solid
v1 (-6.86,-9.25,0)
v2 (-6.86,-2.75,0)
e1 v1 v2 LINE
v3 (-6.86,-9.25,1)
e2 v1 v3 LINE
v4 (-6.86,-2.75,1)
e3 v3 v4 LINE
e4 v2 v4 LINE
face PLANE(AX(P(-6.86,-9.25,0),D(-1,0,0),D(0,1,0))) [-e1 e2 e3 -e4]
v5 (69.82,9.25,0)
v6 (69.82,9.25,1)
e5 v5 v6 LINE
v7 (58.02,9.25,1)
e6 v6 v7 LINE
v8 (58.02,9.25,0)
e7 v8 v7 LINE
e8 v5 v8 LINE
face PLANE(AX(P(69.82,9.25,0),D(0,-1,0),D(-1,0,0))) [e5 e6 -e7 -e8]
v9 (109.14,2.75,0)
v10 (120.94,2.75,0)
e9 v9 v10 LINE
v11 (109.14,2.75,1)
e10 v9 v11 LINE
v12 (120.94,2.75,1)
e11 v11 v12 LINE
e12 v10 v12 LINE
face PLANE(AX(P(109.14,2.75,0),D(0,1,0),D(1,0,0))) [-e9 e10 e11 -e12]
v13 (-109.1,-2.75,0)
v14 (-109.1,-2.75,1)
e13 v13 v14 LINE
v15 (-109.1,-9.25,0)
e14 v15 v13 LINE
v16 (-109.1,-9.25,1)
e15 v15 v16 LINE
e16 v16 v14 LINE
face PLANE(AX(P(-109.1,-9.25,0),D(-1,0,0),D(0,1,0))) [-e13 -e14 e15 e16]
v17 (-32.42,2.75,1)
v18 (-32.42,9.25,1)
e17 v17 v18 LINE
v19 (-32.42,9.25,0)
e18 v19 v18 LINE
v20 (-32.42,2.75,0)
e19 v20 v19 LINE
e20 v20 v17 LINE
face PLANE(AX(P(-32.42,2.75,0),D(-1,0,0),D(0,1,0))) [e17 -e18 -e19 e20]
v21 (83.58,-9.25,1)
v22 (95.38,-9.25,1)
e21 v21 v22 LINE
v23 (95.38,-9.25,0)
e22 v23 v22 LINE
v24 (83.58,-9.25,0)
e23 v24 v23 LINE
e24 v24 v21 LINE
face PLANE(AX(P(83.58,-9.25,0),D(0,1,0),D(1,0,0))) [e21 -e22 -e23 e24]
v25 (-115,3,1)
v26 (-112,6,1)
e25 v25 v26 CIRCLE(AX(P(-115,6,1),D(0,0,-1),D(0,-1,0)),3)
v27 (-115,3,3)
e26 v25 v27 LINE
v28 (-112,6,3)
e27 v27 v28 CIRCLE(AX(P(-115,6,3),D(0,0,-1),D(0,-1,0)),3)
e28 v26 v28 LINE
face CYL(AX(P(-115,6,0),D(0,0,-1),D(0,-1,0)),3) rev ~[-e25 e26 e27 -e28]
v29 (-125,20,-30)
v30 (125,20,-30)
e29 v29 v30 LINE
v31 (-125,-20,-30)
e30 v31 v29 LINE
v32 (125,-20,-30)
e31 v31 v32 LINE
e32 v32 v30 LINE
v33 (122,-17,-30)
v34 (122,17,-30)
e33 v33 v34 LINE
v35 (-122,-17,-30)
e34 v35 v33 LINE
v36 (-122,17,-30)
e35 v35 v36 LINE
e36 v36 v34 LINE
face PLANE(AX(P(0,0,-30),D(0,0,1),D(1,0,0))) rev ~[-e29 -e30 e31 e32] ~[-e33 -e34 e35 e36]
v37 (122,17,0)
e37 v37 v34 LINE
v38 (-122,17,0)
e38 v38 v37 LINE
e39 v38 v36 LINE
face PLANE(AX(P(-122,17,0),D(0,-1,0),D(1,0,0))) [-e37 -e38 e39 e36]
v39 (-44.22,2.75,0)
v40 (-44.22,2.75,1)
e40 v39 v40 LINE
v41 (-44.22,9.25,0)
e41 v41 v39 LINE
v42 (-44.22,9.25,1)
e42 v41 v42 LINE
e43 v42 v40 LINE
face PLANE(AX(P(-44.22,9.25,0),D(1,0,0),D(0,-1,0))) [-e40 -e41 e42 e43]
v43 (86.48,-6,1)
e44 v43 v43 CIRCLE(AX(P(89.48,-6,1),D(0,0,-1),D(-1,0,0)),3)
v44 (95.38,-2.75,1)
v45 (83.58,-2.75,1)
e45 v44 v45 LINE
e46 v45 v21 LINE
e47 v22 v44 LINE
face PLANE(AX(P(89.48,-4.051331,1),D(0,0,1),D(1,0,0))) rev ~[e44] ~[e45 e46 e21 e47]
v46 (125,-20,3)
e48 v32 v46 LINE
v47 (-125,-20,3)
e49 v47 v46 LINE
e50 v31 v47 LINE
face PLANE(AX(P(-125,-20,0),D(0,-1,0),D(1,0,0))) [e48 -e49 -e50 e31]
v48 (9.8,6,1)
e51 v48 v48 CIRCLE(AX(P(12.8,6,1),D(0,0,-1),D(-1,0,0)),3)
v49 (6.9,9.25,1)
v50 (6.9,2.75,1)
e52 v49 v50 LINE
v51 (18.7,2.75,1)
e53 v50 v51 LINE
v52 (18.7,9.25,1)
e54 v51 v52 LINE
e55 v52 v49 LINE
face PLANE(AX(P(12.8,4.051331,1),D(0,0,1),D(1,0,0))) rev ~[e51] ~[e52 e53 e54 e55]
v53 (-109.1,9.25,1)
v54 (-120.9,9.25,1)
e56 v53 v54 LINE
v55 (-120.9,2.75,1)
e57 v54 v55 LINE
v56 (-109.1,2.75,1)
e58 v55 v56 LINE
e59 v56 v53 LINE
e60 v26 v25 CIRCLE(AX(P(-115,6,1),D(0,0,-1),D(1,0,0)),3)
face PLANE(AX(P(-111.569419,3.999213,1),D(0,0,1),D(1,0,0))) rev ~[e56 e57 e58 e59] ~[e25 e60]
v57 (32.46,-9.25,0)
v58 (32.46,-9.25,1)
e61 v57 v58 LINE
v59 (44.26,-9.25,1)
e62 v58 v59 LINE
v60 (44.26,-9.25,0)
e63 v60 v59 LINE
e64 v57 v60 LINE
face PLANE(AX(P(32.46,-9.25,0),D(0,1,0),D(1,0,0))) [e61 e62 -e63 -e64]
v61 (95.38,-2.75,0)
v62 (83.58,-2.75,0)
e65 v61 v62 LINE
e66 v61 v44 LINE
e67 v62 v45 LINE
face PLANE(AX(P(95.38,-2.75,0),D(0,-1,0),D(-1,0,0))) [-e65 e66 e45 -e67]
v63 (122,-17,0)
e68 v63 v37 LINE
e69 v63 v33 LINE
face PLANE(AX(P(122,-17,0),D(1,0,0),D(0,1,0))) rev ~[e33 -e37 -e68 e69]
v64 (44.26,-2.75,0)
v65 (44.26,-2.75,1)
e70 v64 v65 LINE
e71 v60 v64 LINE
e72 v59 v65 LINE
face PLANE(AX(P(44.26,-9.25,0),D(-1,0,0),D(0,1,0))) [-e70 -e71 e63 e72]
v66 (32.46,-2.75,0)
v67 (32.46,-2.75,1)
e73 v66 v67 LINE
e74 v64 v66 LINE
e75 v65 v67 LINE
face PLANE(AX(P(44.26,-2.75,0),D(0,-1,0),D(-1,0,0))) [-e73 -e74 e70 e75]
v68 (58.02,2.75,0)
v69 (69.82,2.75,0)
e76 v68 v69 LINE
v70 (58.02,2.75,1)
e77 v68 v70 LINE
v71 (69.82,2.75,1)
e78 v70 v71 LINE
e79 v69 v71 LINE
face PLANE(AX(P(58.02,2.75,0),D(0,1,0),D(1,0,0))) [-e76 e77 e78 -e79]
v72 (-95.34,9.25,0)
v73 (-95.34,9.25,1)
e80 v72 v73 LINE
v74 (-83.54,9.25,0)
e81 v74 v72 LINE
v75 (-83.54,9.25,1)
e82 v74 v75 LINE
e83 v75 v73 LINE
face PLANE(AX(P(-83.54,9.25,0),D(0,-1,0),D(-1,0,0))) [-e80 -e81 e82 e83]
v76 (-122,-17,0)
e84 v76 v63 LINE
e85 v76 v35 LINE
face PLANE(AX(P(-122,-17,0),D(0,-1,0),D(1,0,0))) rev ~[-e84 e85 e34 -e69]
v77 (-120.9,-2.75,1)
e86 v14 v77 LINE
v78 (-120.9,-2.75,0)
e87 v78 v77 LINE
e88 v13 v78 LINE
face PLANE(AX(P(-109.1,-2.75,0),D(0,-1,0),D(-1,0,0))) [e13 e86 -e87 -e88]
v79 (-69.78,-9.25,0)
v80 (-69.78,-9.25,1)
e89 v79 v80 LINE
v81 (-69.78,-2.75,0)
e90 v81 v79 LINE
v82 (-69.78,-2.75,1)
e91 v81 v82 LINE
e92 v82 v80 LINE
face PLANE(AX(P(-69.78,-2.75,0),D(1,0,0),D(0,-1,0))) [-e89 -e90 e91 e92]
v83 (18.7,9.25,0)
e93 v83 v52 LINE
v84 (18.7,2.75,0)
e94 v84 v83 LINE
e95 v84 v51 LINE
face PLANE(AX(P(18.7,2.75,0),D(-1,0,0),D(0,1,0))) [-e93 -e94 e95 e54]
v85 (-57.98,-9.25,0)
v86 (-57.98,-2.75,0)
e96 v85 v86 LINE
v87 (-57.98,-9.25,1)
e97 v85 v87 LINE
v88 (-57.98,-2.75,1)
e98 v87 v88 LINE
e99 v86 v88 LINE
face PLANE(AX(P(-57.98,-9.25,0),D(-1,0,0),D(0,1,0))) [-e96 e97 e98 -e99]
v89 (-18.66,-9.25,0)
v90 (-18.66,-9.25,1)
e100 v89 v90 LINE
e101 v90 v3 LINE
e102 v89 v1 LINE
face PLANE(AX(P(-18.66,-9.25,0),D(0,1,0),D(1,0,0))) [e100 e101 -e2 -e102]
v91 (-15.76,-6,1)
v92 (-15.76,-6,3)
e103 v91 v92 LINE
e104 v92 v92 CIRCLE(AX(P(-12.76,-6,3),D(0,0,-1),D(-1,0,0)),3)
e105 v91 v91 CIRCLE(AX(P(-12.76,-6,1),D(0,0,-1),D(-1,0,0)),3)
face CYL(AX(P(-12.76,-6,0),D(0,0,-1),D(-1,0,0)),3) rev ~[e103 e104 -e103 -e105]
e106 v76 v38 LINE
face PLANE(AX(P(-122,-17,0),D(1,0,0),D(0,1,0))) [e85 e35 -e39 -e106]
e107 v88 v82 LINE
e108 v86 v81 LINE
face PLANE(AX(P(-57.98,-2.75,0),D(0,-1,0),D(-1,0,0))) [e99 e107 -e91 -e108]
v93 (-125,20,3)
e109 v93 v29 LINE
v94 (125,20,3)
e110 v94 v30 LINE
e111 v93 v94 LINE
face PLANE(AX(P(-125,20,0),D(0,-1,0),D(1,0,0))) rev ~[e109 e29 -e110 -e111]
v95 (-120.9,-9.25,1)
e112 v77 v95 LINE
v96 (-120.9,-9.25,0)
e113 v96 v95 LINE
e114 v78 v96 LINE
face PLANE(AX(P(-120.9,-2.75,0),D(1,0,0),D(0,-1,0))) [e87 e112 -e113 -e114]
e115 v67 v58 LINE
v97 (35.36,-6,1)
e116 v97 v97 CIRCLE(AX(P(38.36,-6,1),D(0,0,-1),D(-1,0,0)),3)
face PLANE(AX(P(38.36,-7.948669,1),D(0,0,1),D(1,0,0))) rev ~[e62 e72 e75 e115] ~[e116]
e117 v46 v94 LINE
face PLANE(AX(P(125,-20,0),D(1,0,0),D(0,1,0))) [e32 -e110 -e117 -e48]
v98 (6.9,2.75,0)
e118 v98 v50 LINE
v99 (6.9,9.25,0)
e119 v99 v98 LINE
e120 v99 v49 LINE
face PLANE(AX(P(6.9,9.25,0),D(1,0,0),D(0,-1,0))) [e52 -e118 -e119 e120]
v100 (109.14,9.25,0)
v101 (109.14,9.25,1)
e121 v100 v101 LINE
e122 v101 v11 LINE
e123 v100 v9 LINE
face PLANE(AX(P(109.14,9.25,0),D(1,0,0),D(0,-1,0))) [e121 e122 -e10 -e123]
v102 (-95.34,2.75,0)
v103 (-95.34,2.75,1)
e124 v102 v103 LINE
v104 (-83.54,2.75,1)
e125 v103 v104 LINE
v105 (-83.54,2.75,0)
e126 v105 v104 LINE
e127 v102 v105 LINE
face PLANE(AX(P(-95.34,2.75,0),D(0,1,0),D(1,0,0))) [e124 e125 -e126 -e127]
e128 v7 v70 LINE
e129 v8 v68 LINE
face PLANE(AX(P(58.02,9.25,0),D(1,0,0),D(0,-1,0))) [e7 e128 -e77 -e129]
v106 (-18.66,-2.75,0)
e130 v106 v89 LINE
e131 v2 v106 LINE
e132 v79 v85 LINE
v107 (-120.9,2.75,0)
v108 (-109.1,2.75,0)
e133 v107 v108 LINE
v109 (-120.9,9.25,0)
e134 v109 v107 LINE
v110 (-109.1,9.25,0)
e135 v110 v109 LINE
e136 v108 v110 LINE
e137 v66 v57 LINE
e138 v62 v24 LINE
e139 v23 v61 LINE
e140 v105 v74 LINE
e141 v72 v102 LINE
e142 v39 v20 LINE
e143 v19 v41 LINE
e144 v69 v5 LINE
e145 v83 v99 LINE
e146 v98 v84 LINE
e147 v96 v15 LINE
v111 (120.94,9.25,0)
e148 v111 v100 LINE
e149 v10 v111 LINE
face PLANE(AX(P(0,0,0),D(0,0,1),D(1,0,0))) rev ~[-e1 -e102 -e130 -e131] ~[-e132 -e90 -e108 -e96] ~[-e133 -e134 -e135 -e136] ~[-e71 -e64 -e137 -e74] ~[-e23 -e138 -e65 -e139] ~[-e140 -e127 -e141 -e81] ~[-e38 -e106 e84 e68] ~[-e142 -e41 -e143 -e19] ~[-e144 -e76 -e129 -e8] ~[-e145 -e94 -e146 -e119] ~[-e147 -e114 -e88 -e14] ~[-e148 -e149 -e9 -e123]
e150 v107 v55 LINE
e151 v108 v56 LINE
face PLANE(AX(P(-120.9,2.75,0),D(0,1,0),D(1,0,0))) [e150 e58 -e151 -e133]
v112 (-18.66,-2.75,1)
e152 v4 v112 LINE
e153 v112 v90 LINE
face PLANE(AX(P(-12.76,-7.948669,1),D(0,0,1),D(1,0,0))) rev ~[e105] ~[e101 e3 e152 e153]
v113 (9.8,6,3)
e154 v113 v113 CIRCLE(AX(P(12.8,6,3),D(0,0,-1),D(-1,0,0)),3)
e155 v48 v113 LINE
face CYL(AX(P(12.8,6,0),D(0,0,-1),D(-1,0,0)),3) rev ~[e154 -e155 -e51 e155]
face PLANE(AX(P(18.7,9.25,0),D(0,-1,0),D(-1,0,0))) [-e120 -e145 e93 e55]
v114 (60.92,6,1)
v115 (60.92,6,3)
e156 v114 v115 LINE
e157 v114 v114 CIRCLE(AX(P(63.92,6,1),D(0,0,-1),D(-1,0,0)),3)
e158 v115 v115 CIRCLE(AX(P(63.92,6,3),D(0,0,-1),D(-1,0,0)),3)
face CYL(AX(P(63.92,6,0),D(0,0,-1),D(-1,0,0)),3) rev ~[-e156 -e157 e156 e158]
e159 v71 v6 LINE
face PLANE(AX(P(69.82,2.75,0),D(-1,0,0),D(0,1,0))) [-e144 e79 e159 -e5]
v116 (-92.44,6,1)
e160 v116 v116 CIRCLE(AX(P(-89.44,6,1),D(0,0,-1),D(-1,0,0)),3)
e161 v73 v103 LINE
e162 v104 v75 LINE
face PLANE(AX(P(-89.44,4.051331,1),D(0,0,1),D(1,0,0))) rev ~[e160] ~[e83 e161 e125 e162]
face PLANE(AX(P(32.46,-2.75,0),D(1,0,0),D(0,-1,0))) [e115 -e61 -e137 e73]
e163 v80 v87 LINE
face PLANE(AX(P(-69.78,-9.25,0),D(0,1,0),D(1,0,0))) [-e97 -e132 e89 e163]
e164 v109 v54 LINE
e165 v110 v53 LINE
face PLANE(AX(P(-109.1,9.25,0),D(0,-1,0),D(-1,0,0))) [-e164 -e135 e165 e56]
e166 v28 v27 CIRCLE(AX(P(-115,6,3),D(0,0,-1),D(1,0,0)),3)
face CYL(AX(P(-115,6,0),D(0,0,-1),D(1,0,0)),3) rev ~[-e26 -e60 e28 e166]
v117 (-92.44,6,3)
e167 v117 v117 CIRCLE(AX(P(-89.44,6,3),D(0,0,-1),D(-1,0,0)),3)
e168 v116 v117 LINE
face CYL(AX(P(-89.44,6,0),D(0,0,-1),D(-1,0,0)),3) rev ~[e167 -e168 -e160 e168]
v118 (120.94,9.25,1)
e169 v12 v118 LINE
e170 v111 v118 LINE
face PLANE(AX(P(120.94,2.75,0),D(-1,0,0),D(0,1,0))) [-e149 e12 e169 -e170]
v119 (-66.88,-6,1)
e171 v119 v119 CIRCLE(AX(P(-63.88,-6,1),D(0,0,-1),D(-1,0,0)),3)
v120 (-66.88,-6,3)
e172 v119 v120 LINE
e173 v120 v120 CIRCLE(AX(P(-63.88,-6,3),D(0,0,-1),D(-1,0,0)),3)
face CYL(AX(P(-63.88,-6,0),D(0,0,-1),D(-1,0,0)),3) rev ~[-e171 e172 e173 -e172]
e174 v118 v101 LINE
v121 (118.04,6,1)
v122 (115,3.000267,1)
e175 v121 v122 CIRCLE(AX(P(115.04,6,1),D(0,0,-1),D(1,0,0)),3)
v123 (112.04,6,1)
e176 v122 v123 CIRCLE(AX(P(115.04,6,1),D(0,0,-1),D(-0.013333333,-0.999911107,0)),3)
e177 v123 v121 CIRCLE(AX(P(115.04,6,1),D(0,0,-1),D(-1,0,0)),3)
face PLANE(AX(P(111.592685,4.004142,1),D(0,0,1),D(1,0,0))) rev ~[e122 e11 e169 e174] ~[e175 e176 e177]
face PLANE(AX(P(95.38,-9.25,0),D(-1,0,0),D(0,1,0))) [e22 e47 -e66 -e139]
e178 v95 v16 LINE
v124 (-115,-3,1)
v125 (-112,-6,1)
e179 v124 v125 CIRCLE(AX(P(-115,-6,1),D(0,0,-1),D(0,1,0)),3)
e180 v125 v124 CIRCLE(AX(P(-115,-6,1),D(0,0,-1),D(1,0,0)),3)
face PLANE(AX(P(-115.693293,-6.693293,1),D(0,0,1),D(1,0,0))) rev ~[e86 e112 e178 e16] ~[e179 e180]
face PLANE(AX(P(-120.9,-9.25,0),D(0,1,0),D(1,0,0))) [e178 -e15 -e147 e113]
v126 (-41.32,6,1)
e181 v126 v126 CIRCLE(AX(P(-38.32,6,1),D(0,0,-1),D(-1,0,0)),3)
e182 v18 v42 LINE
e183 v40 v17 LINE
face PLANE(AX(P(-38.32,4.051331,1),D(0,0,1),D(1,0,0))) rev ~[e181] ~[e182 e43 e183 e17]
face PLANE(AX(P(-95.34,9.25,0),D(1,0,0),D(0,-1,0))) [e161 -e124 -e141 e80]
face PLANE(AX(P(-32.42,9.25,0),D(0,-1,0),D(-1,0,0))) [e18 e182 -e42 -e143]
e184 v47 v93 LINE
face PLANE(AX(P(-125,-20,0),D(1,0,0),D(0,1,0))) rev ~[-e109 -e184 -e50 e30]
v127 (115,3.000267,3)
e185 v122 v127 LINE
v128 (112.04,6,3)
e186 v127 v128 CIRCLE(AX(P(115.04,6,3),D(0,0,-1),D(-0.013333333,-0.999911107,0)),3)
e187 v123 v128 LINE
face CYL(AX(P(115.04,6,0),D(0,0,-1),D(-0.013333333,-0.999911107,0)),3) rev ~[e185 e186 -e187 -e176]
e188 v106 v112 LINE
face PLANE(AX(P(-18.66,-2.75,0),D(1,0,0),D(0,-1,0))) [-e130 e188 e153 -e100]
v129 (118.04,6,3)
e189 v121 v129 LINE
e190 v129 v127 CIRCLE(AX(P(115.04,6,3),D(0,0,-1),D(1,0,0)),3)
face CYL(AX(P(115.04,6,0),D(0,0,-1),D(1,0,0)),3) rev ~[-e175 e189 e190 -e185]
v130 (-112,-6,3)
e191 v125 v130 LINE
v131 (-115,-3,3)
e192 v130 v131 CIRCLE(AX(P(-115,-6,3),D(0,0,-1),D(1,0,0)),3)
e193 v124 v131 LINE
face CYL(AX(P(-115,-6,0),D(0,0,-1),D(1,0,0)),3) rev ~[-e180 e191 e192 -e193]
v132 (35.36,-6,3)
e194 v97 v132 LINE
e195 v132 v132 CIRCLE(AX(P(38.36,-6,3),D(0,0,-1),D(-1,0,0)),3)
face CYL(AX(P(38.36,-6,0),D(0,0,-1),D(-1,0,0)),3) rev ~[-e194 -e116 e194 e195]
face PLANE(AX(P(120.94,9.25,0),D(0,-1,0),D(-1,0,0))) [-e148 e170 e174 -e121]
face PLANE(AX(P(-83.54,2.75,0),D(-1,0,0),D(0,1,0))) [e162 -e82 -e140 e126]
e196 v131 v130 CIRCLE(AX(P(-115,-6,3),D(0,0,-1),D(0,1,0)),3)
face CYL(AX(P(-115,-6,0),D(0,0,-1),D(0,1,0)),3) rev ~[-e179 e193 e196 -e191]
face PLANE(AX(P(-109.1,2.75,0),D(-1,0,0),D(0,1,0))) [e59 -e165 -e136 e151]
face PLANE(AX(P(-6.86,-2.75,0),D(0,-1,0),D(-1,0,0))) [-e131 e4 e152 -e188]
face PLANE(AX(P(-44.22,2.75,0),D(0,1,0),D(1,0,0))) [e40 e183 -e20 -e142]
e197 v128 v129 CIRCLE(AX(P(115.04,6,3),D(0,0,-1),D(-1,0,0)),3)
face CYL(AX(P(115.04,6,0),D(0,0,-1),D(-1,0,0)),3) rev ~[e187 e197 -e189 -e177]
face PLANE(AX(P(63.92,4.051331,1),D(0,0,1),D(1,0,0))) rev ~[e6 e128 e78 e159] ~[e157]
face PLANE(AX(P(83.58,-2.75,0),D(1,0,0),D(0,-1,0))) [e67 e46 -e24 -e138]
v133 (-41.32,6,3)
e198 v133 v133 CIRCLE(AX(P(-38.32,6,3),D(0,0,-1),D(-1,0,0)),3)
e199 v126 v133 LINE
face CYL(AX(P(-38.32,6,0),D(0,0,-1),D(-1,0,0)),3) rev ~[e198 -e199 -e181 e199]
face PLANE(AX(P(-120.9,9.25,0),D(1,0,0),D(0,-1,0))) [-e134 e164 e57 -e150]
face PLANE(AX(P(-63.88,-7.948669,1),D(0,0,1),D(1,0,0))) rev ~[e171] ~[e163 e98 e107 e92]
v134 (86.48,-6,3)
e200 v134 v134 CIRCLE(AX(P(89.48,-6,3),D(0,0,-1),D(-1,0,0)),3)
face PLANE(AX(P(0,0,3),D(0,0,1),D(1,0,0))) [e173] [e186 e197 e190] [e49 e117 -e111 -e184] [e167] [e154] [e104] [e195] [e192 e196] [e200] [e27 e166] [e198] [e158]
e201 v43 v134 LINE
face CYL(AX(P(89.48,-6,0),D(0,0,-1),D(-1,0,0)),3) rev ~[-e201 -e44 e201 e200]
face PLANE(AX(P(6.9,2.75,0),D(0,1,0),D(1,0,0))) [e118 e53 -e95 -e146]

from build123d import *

# Parameters (mm, degrees)
F0_W     = 250
F0_H     = 40
F0_W_2   = 244
F0_H_2   = 34
F1_DEPTH = 3
F2_DEPTH = 1
F3_DEPTH = 30


with BuildPart() as f1:
    # F0 (on Top) → F1 (new body)
    with BuildSketch(Plane.XY):
        Rectangle(F0_W, F0_H)
        Rectangle(F0_W_2, F0_H_2, mode=Mode.SUBTRACT)
        Rectangle(F0_W_2, F0_H_2)
        Polygon((-109.1, 9.25), (-109.1, 6), (-95.34, 6), (-95.34, 9.25), (-83.54, 9.25), (-83.54, 6), (-44.22, 6), (-44.22, 9.25), (-32.42, 9.25), (-32.42, 6), (6.9, 6), (6.9, 9.25), (18.7, 9.25), (18.7, 6), (58.02, 6), (58.02, 9.25), (69.82, 9.25), (69.82, 6), (109.14, 6), (109.14, 9.25), (120.94, 9.25), (120.94, 2.75), (115, 2.75), (115, -6), (95.38, -6), (95.38, -9.25), (83.58, -9.25), (83.58, -6), (44.26, -6), (44.26, -9.25), (32.46, -9.25), (32.46, -6), (-6.86, -6), (-6.86, -9.25), (-18.66, -9.25), (-18.66, -6), (-57.98, -6), (-57.98, -9.25), (-69.78, -9.25), (-69.78, -6), (-109.1, -6), (-109.1, -9.25), (-120.9, -9.25), (-120.9, -2.75), (-115, -2.75), (-115, 2.75), (-120.9, 2.75), (-120.9, 9.25), align=None, mode=Mode.SUBTRACT)
        Polygon((-95.34, 6), (-109.1, 6), (-109.1, 2.75), (-115, 2.75), (-115, -2.75), (-109.1, -2.75), (-109.1, -6), (-69.78, -6), (-69.78, -2.75), (-57.98, -2.75), (-57.98, -6), (-18.66, -6), (-18.66, -2.75), (-6.86, -2.75), (-6.86, -6), (32.46, -6), (32.46, -2.75), (44.26, -2.75), (44.26, -6), (83.58, -6), (83.58, -2.75), (95.38, -2.75), (95.38, -6), (115, -6), (115, 2.75), (109.14, 2.75), (109.14, 6), (69.82, 6), (69.82, 2.75), (58.02, 2.75), (58.02, 6), (18.7, 6), (18.7, 2.75), (6.9, 2.75), (6.9, 6), (-32.42, 6), (-32.42, 2.75), (-44.22, 2.75), (-44.22, 6), (-83.54, 6), (-83.54, 2.75), (-95.34, 2.75), align=None)
        with BuildLine():
            Line((109.14, 9.25), (109.14, 6))
            Line((109.14, 6), (112.04, 6))
            ThreePointArc((112.04, 6), (115.04, 9), (118.04, 6))
            ThreePointArc((118.04, 6), (117.1471307506, 3.8645843496), (115, 3.0002666785))
            Line((115, 3.0002666785), (115, 2.75))
            Line((115, 2.75), (120.94, 2.75))
            Line((120.94, 2.75), (120.94, 9.25))
            Line((120.94, 9.25), (109.14, 9.25))
        make_face()
        with BuildLine():
            Line((-115, -3), (-115, -2.75))
            Line((-115, -2.75), (-120.9, -2.75))
            Line((-120.9, -2.75), (-120.9, -9.25))
            Line((-120.9, -9.25), (-109.1, -9.25))
            Line((-109.1, -9.25), (-109.1, -6))
            Line((-109.1, -6), (-112, -6))
            ThreePointArc((-112, -6), (-117.1213203436, -8.1213203436), (-115, -3))
        make_face()
        with BuildLine():
            ThreePointArc((-115, 3), (-117.1213203436, 8.1213203436), (-112, 6))
            Line((-112, 6), (-109.1, 6))
            Line((-109.1, 6), (-109.1, 9.25))
            Line((-109.1, 9.25), (-120.9, 9.25))
            Line((-120.9, 9.25), (-120.9, 2.75))
            Line((-120.9, 2.75), (-115, 2.75))
            Line((-115, 2.75), (-115, 3))
        make_face()
        with BuildLine():
            Line((-15.76, -6), (-18.66, -6))
            Line((-18.66, -6), (-18.66, -9.25))
            Line((-18.66, -9.25), (-6.86, -9.25))
            Line((-6.86, -9.25), (-6.86, -6))
            Line((-6.86, -6), (-9.76, -6))
            ThreePointArc((-9.76, -6), (-12.76, -9), (-15.76, -6))
        make_face()
        with BuildLine():
            Line((-18.66, -2.75), (-18.66, -6))
            Line((-18.66, -6), (-15.76, -6))
            ThreePointArc((-15.76, -6), (-12.76, -3), (-9.76, -6))
            Line((-9.76, -6), (-6.86, -6))
            Line((-6.86, -6), (-6.86, -2.75))
            Line((-6.86, -2.75), (-18.66, -2.75))
        make_face()
        with BuildLine():
            Line((35.36, -6), (32.46, -6))
            Line((32.46, -6), (32.46, -9.25))
            Line((32.46, -9.25), (44.26, -9.25))
            Line((44.26, -9.25), (44.26, -6))
            Line((44.26, -6), (41.36, -6))
            ThreePointArc((41.36, -6), (38.36, -9), (35.36, -6))
        make_face()
        with BuildLine():
            Line((32.46, -2.75), (32.46, -6))
            Line((32.46, -6), (35.36, -6))
            ThreePointArc((35.36, -6), (38.36, -3), (41.36, -6))
            Line((41.36, -6), (44.26, -6))
            Line((44.26, -6), (44.26, -2.75))
            Line((44.26, -2.75), (32.46, -2.75))
        make_face()
        with BuildLine():
            Line((-92.44, 6), (-95.34, 6))
            Line((-95.34, 6), (-95.34, 2.75))
            Line((-95.34, 2.75), (-83.54, 2.75))
            Line((-83.54, 2.75), (-83.54, 6))
            Line((-83.54, 6), (-86.44, 6))
            ThreePointArc((-86.44, 6), (-89.44, 3), (-92.44, 6))
        make_face()
        with BuildLine():
            Line((-95.34, 9.25), (-95.34, 6))
            Line((-95.34, 6), (-92.44, 6))
            ThreePointArc((-92.44, 6), (-89.44, 9), (-86.44, 6))
            Line((-86.44, 6), (-83.54, 6))
            Line((-83.54, 6), (-83.54, 9.25))
            Line((-83.54, 9.25), (-95.34, 9.25))
        make_face()
        with BuildLine():
            Line((60.92, 6), (58.02, 6))
            Line((58.02, 6), (58.02, 2.75))
            Line((58.02, 2.75), (69.82, 2.75))
            Line((69.82, 2.75), (69.82, 6))
            Line((69.82, 6), (66.92, 6))
            ThreePointArc((66.92, 6), (63.92, 3), (60.92, 6))
        make_face()
        with BuildLine():
            Line((58.02, 9.25), (58.02, 6))
            Line((58.02, 6), (60.92, 6))
            ThreePointArc((60.92, 6), (63.92, 9), (66.92, 6))
            Line((66.92, 6), (69.82, 6))
            Line((69.82, 6), (69.82, 9.25))
            Line((69.82, 9.25), (58.02, 9.25))
        make_face()
        with BuildLine():
            Line((86.48, -6), (83.58, -6))
            Line((83.58, -6), (83.58, -9.25))
            Line((83.58, -9.25), (95.38, -9.25))
            Line((95.38, -9.25), (95.38, -6))
            Line((95.38, -6), (92.48, -6))
            ThreePointArc((92.48, -6), (89.48, -9), (86.48, -6))
        make_face()
        with BuildLine():
            Line((83.58, -2.75), (83.58, -6))
            Line((83.58, -6), (86.48, -6))
            ThreePointArc((86.48, -6), (89.48, -3), (92.48, -6))
            Line((92.48, -6), (95.38, -6))
            Line((95.38, -6), (95.38, -2.75))
            Line((95.38, -2.75), (83.58, -2.75))
        make_face()
        with BuildLine():
            Line((9.8, 6), (6.9, 6))
            Line((6.9, 6), (6.9, 2.75))
            Line((6.9, 2.75), (18.7, 2.75))
            Line((18.7, 2.75), (18.7, 6))
            Line((18.7, 6), (15.8, 6))
            ThreePointArc((15.8, 6), (12.8, 3), (9.8, 6))
        make_face()
        with BuildLine():
            Line((6.9, 9.25), (6.9, 6))
            Line((6.9, 6), (9.8, 6))
            ThreePointArc((9.8, 6), (12.8, 9), (15.8, 6))
            Line((15.8, 6), (18.7, 6))
            Line((18.7, 6), (18.7, 9.25))
            Line((18.7, 9.25), (6.9, 9.25))
        make_face()
        with BuildLine():
            Line((-41.32, 6), (-44.22, 6))
            Line((-44.22, 6), (-44.22, 2.75))
            Line((-44.22, 2.75), (-32.42, 2.75))
            Line((-32.42, 2.75), (-32.42, 6))
            Line((-32.42, 6), (-35.32, 6))
            ThreePointArc((-35.32, 6), (-38.32, 3), (-41.32, 6))
        make_face()
        with BuildLine():
            Line((-44.22, 9.25), (-44.22, 6))
            Line((-44.22, 6), (-41.32, 6))
            ThreePointArc((-41.32, 6), (-38.32, 9), (-35.32, 6))
            Line((-35.32, 6), (-32.42, 6))
            Line((-32.42, 6), (-32.42, 9.25))
            Line((-32.42, 9.25), (-44.22, 9.25))
        make_face()
        with BuildLine():
            Line((-66.88, -6), (-69.78, -6))
            Line((-69.78, -6), (-69.78, -9.25))
            Line((-69.78, -9.25), (-57.98, -9.25))
            Line((-57.98, -9.25), (-57.98, -6))
            Line((-57.98, -6), (-60.88, -6))
            ThreePointArc((-60.88, -6), (-63.88, -9), (-66.88, -6))
        make_face()
        with BuildLine():
            Line((-69.78, -2.75), (-69.78, -6))
            Line((-69.78, -6), (-66.88, -6))
            ThreePointArc((-66.88, -6), (-63.88, -3), (-60.88, -6))
            Line((-60.88, -6), (-57.98, -6))
            Line((-57.98, -6), (-57.98, -2.75))
            Line((-57.98, -2.75), (-69.78, -2.75))
        make_face()
        with BuildLine():
            Line((-109.1, -2.75), (-115, -2.75))
            Line((-115, -2.75), (-115, -3))
            ThreePointArc((-115, -3), (-112.8786796564, -3.8786796564), (-112, -6))
            Line((-112, -6), (-109.1, -6))
            Line((-109.1, -6), (-109.1, -2.75))
        make_face()
        with BuildLine():
            Line((-109.1, 6), (-112, 6))
            ThreePointArc((-112, 6), (-112.8786796564, 3.8786796564), (-115, 3))
            Line((-115, 3), (-115, 2.75))
            Line((-115, 2.75), (-109.1, 2.75))
            Line((-109.1, 2.75), (-109.1, 6))
        make_face()
        with BuildLine():
            Line((112.04, 6), (109.14, 6))
            Line((109.14, 6), (109.14, 2.75))
            Line((109.14, 2.75), (115, 2.75))
            Line((115, 2.75), (115, 3.0002666785))
            ThreePointArc((115, 3.0002666785), (112.9045843496, 3.8928692494), (112.04, 6))
        make_face()
    extrude(amount=F1_DEPTH)

    # F0 (on Top) → F2 (cut)
    with BuildSketch(Plane.XY):
        with BuildLine():
            Line((60.92, 6), (58.02, 6))
            Line((58.02, 6), (58.02, 2.75))
            Line((58.02, 2.75), (69.82, 2.75))
            Line((69.82, 2.75), (69.82, 6))
            Line((69.82, 6), (66.92, 6))
            ThreePointArc((66.92, 6), (63.92, 3), (60.92, 6))
        make_face()
        with BuildLine():
            Line((58.02, 9.25), (58.02, 6))
            Line((58.02, 6), (60.92, 6))
            ThreePointArc((60.92, 6), (63.92, 9), (66.92, 6))
            Line((66.92, 6), (69.82, 6))
            Line((69.82, 6), (69.82, 9.25))
            Line((69.82, 9.25), (58.02, 9.25))
        make_face()
        with BuildLine():
            Line((35.36, -6), (32.46, -6))
            Line((32.46, -6), (32.46, -9.25))
            Line((32.46, -9.25), (44.26, -9.25))
            Line((44.26, -9.25), (44.26, -6))
            Line((44.26, -6), (41.36, -6))
            ThreePointArc((41.36, -6), (38.36, -9), (35.36, -6))
        make_face()
        with BuildLine():
            Line((32.46, -2.75), (32.46, -6))
            Line((32.46, -6), (35.36, -6))
            ThreePointArc((35.36, -6), (38.36, -3), (41.36, -6))
            Line((41.36, -6), (44.26, -6))
            Line((44.26, -6), (44.26, -2.75))
            Line((44.26, -2.75), (32.46, -2.75))
        make_face()
        with BuildLine():
            Line((9.8, 6), (6.9, 6))
            Line((6.9, 6), (6.9, 2.75))
            Line((6.9, 2.75), (18.7, 2.75))
            Line((18.7, 2.75), (18.7, 6))
            Line((18.7, 6), (15.8, 6))
            ThreePointArc((15.8, 6), (12.8, 3), (9.8, 6))
        make_face()
        with BuildLine():
            Line((6.9, 9.25), (6.9, 6))
            Line((6.9, 6), (9.8, 6))
            ThreePointArc((9.8, 6), (12.8, 9), (15.8, 6))
            Line((15.8, 6), (18.7, 6))
            Line((18.7, 6), (18.7, 9.25))
            Line((18.7, 9.25), (6.9, 9.25))
        make_face()
        with BuildLine():
            Line((-15.76, -6), (-18.66, -6))
            Line((-18.66, -6), (-18.66, -9.25))
            Line((-18.66, -9.25), (-6.86, -9.25))
            Line((-6.86, -9.25), (-6.86, -6))
            Line((-6.86, -6), (-9.76, -6))
            ThreePointArc((-9.76, -6), (-12.76, -9), (-15.76, -6))
        make_face()
        with BuildLine():
            Line((-18.66, -2.75), (-18.66, -6))
            Line((-18.66, -6), (-15.76, -6))
            ThreePointArc((-15.76, -6), (-12.76, -3), (-9.76, -6))
            Line((-9.76, -6), (-6.86, -6))
            Line((-6.86, -6), (-6.86, -2.75))
            Line((-6.86, -2.75), (-18.66, -2.75))
        make_face()
        with BuildLine():
            Line((83.58, -2.75), (83.58, -6))
            Line((83.58, -6), (86.48, -6))
            ThreePointArc((86.48, -6), (89.48, -3), (92.48, -6))
            Line((92.48, -6), (95.38, -6))
            Line((95.38, -6), (95.38, -2.75))
            Line((95.38, -2.75), (83.58, -2.75))
        make_face()
        with BuildLine():
            Line((112.04, 6), (109.14, 6))
            Line((109.14, 6), (109.14, 2.75))
            Line((109.14, 2.75), (115, 2.75))
            Line((115, 2.75), (115, 3.0002666785))
            ThreePointArc((115, 3.0002666785), (112.9045843496, 3.8928692494), (112.04, 6))
        make_face()
        with BuildLine():
            Line((-41.32, 6), (-44.22, 6))
            Line((-44.22, 6), (-44.22, 2.75))
            Line((-44.22, 2.75), (-32.42, 2.75))
            Line((-32.42, 2.75), (-32.42, 6))
            Line((-32.42, 6), (-35.32, 6))
            ThreePointArc((-35.32, 6), (-38.32, 3), (-41.32, 6))
        make_face()
        with BuildLine():
            Line((-44.22, 9.25), (-44.22, 6))
            Line((-44.22, 6), (-41.32, 6))
            ThreePointArc((-41.32, 6), (-38.32, 9), (-35.32, 6))
            Line((-35.32, 6), (-32.42, 6))
            Line((-32.42, 6), (-32.42, 9.25))
            Line((-32.42, 9.25), (-44.22, 9.25))
        make_face()
        with BuildLine():
            Line((-66.88, -6), (-69.78, -6))
            Line((-69.78, -6), (-69.78, -9.25))
            Line((-69.78, -9.25), (-57.98, -9.25))
            Line((-57.98, -9.25), (-57.98, -6))
            Line((-57.98, -6), (-60.88, -6))
            ThreePointArc((-60.88, -6), (-63.88, -9), (-66.88, -6))
        make_face()
        with BuildLine():
            Line((-69.78, -2.75), (-69.78, -6))
            Line((-69.78, -6), (-66.88, -6))
            ThreePointArc((-66.88, -6), (-63.88, -3), (-60.88, -6))
            Line((-60.88, -6), (-57.98, -6))
            Line((-57.98, -6), (-57.98, -2.75))
            Line((-57.98, -2.75), (-69.78, -2.75))
        make_face()
        with BuildLine():
            Line((-92.44, 6), (-95.34, 6))
            Line((-95.34, 6), (-95.34, 2.75))
            Line((-95.34, 2.75), (-83.54, 2.75))
            Line((-83.54, 2.75), (-83.54, 6))
            Line((-83.54, 6), (-86.44, 6))
            ThreePointArc((-86.44, 6), (-89.44, 3), (-92.44, 6))
        make_face()
        with BuildLine():
            Line((-95.34, 9.25), (-95.34, 6))
            Line((-95.34, 6), (-92.44, 6))
            ThreePointArc((-92.44, 6), (-89.44, 9), (-86.44, 6))
            Line((-86.44, 6), (-83.54, 6))
            Line((-83.54, 6), (-83.54, 9.25))
            Line((-83.54, 9.25), (-95.34, 9.25))
        make_face()
        with BuildLine():
            Line((-109.1, 6), (-112, 6))
            ThreePointArc((-112, 6), (-112.8786796564, 3.8786796564), (-115, 3))
            Line((-115, 3), (-115, 2.75))
            Line((-115, 2.75), (-109.1, 2.75))
            Line((-109.1, 2.75), (-109.1, 6))
        make_face()
        with BuildLine():
            Line((-115, -3), (-115, -2.75))
            Line((-115, -2.75), (-120.9, -2.75))
            Line((-120.9, -2.75), (-120.9, -9.25))
            Line((-120.9, -9.25), (-109.1, -9.25))
            Line((-109.1, -9.25), (-109.1, -6))
            Line((-109.1, -6), (-112, -6))
            ThreePointArc((-112, -6), (-117.1213203436, -8.1213203436), (-115, -3))
        make_face()
        with BuildLine():
            Line((109.14, 9.25), (109.14, 6))
            Line((109.14, 6), (112.04, 6))
            ThreePointArc((112.04, 6), (115.04, 9), (118.04, 6))
            ThreePointArc((118.04, 6), (117.1471307506, 3.8645843496), (115, 3.0002666785))
            Line((115, 3.0002666785), (115, 2.75))
            Line((115, 2.75), (120.94, 2.75))
            Line((120.94, 2.75), (120.94, 9.25))
            Line((120.94, 9.25), (109.14, 9.25))
        make_face()
        with BuildLine():
            Line((86.48, -6), (83.58, -6))
            Line((83.58, -6), (83.58, -9.25))
            Line((83.58, -9.25), (95.38, -9.25))
            Line((95.38, -9.25), (95.38, -6))
            Line((95.38, -6), (92.48, -6))
            ThreePointArc((92.48, -6), (89.48, -9), (86.48, -6))
        make_face()
        with BuildLine():
            ThreePointArc((-115, 3), (-117.1213203436, 8.1213203436), (-112, 6))
            Line((-112, 6), (-109.1, 6))
            Line((-109.1, 6), (-109.1, 9.25))
            Line((-109.1, 9.25), (-120.9, 9.25))
            Line((-120.9, 9.25), (-120.9, 2.75))
            Line((-120.9, 2.75), (-115, 2.75))
            Line((-115, 2.75), (-115, 3))
        make_face()
        with BuildLine():
            Line((-109.1, -2.75), (-115, -2.75))
            Line((-115, -2.75), (-115, -3))
            ThreePointArc((-115, -3), (-112.8786796564, -3.8786796564), (-112, -6))
            Line((-112, -6), (-109.1, -6))
            Line((-109.1, -6), (-109.1, -2.75))
        make_face()
    extrude(amount=F2_DEPTH, mode=Mode.SUBTRACT)

    # F0 (on Top) → F3 (join)
    with BuildSketch(Plane.XY):
        Rectangle(F0_W, F0_H)
        Rectangle(F0_W_2, F0_H_2, mode=Mode.SUBTRACT)
    extrude(amount=-F3_DEPTH)


solid = f1.part
